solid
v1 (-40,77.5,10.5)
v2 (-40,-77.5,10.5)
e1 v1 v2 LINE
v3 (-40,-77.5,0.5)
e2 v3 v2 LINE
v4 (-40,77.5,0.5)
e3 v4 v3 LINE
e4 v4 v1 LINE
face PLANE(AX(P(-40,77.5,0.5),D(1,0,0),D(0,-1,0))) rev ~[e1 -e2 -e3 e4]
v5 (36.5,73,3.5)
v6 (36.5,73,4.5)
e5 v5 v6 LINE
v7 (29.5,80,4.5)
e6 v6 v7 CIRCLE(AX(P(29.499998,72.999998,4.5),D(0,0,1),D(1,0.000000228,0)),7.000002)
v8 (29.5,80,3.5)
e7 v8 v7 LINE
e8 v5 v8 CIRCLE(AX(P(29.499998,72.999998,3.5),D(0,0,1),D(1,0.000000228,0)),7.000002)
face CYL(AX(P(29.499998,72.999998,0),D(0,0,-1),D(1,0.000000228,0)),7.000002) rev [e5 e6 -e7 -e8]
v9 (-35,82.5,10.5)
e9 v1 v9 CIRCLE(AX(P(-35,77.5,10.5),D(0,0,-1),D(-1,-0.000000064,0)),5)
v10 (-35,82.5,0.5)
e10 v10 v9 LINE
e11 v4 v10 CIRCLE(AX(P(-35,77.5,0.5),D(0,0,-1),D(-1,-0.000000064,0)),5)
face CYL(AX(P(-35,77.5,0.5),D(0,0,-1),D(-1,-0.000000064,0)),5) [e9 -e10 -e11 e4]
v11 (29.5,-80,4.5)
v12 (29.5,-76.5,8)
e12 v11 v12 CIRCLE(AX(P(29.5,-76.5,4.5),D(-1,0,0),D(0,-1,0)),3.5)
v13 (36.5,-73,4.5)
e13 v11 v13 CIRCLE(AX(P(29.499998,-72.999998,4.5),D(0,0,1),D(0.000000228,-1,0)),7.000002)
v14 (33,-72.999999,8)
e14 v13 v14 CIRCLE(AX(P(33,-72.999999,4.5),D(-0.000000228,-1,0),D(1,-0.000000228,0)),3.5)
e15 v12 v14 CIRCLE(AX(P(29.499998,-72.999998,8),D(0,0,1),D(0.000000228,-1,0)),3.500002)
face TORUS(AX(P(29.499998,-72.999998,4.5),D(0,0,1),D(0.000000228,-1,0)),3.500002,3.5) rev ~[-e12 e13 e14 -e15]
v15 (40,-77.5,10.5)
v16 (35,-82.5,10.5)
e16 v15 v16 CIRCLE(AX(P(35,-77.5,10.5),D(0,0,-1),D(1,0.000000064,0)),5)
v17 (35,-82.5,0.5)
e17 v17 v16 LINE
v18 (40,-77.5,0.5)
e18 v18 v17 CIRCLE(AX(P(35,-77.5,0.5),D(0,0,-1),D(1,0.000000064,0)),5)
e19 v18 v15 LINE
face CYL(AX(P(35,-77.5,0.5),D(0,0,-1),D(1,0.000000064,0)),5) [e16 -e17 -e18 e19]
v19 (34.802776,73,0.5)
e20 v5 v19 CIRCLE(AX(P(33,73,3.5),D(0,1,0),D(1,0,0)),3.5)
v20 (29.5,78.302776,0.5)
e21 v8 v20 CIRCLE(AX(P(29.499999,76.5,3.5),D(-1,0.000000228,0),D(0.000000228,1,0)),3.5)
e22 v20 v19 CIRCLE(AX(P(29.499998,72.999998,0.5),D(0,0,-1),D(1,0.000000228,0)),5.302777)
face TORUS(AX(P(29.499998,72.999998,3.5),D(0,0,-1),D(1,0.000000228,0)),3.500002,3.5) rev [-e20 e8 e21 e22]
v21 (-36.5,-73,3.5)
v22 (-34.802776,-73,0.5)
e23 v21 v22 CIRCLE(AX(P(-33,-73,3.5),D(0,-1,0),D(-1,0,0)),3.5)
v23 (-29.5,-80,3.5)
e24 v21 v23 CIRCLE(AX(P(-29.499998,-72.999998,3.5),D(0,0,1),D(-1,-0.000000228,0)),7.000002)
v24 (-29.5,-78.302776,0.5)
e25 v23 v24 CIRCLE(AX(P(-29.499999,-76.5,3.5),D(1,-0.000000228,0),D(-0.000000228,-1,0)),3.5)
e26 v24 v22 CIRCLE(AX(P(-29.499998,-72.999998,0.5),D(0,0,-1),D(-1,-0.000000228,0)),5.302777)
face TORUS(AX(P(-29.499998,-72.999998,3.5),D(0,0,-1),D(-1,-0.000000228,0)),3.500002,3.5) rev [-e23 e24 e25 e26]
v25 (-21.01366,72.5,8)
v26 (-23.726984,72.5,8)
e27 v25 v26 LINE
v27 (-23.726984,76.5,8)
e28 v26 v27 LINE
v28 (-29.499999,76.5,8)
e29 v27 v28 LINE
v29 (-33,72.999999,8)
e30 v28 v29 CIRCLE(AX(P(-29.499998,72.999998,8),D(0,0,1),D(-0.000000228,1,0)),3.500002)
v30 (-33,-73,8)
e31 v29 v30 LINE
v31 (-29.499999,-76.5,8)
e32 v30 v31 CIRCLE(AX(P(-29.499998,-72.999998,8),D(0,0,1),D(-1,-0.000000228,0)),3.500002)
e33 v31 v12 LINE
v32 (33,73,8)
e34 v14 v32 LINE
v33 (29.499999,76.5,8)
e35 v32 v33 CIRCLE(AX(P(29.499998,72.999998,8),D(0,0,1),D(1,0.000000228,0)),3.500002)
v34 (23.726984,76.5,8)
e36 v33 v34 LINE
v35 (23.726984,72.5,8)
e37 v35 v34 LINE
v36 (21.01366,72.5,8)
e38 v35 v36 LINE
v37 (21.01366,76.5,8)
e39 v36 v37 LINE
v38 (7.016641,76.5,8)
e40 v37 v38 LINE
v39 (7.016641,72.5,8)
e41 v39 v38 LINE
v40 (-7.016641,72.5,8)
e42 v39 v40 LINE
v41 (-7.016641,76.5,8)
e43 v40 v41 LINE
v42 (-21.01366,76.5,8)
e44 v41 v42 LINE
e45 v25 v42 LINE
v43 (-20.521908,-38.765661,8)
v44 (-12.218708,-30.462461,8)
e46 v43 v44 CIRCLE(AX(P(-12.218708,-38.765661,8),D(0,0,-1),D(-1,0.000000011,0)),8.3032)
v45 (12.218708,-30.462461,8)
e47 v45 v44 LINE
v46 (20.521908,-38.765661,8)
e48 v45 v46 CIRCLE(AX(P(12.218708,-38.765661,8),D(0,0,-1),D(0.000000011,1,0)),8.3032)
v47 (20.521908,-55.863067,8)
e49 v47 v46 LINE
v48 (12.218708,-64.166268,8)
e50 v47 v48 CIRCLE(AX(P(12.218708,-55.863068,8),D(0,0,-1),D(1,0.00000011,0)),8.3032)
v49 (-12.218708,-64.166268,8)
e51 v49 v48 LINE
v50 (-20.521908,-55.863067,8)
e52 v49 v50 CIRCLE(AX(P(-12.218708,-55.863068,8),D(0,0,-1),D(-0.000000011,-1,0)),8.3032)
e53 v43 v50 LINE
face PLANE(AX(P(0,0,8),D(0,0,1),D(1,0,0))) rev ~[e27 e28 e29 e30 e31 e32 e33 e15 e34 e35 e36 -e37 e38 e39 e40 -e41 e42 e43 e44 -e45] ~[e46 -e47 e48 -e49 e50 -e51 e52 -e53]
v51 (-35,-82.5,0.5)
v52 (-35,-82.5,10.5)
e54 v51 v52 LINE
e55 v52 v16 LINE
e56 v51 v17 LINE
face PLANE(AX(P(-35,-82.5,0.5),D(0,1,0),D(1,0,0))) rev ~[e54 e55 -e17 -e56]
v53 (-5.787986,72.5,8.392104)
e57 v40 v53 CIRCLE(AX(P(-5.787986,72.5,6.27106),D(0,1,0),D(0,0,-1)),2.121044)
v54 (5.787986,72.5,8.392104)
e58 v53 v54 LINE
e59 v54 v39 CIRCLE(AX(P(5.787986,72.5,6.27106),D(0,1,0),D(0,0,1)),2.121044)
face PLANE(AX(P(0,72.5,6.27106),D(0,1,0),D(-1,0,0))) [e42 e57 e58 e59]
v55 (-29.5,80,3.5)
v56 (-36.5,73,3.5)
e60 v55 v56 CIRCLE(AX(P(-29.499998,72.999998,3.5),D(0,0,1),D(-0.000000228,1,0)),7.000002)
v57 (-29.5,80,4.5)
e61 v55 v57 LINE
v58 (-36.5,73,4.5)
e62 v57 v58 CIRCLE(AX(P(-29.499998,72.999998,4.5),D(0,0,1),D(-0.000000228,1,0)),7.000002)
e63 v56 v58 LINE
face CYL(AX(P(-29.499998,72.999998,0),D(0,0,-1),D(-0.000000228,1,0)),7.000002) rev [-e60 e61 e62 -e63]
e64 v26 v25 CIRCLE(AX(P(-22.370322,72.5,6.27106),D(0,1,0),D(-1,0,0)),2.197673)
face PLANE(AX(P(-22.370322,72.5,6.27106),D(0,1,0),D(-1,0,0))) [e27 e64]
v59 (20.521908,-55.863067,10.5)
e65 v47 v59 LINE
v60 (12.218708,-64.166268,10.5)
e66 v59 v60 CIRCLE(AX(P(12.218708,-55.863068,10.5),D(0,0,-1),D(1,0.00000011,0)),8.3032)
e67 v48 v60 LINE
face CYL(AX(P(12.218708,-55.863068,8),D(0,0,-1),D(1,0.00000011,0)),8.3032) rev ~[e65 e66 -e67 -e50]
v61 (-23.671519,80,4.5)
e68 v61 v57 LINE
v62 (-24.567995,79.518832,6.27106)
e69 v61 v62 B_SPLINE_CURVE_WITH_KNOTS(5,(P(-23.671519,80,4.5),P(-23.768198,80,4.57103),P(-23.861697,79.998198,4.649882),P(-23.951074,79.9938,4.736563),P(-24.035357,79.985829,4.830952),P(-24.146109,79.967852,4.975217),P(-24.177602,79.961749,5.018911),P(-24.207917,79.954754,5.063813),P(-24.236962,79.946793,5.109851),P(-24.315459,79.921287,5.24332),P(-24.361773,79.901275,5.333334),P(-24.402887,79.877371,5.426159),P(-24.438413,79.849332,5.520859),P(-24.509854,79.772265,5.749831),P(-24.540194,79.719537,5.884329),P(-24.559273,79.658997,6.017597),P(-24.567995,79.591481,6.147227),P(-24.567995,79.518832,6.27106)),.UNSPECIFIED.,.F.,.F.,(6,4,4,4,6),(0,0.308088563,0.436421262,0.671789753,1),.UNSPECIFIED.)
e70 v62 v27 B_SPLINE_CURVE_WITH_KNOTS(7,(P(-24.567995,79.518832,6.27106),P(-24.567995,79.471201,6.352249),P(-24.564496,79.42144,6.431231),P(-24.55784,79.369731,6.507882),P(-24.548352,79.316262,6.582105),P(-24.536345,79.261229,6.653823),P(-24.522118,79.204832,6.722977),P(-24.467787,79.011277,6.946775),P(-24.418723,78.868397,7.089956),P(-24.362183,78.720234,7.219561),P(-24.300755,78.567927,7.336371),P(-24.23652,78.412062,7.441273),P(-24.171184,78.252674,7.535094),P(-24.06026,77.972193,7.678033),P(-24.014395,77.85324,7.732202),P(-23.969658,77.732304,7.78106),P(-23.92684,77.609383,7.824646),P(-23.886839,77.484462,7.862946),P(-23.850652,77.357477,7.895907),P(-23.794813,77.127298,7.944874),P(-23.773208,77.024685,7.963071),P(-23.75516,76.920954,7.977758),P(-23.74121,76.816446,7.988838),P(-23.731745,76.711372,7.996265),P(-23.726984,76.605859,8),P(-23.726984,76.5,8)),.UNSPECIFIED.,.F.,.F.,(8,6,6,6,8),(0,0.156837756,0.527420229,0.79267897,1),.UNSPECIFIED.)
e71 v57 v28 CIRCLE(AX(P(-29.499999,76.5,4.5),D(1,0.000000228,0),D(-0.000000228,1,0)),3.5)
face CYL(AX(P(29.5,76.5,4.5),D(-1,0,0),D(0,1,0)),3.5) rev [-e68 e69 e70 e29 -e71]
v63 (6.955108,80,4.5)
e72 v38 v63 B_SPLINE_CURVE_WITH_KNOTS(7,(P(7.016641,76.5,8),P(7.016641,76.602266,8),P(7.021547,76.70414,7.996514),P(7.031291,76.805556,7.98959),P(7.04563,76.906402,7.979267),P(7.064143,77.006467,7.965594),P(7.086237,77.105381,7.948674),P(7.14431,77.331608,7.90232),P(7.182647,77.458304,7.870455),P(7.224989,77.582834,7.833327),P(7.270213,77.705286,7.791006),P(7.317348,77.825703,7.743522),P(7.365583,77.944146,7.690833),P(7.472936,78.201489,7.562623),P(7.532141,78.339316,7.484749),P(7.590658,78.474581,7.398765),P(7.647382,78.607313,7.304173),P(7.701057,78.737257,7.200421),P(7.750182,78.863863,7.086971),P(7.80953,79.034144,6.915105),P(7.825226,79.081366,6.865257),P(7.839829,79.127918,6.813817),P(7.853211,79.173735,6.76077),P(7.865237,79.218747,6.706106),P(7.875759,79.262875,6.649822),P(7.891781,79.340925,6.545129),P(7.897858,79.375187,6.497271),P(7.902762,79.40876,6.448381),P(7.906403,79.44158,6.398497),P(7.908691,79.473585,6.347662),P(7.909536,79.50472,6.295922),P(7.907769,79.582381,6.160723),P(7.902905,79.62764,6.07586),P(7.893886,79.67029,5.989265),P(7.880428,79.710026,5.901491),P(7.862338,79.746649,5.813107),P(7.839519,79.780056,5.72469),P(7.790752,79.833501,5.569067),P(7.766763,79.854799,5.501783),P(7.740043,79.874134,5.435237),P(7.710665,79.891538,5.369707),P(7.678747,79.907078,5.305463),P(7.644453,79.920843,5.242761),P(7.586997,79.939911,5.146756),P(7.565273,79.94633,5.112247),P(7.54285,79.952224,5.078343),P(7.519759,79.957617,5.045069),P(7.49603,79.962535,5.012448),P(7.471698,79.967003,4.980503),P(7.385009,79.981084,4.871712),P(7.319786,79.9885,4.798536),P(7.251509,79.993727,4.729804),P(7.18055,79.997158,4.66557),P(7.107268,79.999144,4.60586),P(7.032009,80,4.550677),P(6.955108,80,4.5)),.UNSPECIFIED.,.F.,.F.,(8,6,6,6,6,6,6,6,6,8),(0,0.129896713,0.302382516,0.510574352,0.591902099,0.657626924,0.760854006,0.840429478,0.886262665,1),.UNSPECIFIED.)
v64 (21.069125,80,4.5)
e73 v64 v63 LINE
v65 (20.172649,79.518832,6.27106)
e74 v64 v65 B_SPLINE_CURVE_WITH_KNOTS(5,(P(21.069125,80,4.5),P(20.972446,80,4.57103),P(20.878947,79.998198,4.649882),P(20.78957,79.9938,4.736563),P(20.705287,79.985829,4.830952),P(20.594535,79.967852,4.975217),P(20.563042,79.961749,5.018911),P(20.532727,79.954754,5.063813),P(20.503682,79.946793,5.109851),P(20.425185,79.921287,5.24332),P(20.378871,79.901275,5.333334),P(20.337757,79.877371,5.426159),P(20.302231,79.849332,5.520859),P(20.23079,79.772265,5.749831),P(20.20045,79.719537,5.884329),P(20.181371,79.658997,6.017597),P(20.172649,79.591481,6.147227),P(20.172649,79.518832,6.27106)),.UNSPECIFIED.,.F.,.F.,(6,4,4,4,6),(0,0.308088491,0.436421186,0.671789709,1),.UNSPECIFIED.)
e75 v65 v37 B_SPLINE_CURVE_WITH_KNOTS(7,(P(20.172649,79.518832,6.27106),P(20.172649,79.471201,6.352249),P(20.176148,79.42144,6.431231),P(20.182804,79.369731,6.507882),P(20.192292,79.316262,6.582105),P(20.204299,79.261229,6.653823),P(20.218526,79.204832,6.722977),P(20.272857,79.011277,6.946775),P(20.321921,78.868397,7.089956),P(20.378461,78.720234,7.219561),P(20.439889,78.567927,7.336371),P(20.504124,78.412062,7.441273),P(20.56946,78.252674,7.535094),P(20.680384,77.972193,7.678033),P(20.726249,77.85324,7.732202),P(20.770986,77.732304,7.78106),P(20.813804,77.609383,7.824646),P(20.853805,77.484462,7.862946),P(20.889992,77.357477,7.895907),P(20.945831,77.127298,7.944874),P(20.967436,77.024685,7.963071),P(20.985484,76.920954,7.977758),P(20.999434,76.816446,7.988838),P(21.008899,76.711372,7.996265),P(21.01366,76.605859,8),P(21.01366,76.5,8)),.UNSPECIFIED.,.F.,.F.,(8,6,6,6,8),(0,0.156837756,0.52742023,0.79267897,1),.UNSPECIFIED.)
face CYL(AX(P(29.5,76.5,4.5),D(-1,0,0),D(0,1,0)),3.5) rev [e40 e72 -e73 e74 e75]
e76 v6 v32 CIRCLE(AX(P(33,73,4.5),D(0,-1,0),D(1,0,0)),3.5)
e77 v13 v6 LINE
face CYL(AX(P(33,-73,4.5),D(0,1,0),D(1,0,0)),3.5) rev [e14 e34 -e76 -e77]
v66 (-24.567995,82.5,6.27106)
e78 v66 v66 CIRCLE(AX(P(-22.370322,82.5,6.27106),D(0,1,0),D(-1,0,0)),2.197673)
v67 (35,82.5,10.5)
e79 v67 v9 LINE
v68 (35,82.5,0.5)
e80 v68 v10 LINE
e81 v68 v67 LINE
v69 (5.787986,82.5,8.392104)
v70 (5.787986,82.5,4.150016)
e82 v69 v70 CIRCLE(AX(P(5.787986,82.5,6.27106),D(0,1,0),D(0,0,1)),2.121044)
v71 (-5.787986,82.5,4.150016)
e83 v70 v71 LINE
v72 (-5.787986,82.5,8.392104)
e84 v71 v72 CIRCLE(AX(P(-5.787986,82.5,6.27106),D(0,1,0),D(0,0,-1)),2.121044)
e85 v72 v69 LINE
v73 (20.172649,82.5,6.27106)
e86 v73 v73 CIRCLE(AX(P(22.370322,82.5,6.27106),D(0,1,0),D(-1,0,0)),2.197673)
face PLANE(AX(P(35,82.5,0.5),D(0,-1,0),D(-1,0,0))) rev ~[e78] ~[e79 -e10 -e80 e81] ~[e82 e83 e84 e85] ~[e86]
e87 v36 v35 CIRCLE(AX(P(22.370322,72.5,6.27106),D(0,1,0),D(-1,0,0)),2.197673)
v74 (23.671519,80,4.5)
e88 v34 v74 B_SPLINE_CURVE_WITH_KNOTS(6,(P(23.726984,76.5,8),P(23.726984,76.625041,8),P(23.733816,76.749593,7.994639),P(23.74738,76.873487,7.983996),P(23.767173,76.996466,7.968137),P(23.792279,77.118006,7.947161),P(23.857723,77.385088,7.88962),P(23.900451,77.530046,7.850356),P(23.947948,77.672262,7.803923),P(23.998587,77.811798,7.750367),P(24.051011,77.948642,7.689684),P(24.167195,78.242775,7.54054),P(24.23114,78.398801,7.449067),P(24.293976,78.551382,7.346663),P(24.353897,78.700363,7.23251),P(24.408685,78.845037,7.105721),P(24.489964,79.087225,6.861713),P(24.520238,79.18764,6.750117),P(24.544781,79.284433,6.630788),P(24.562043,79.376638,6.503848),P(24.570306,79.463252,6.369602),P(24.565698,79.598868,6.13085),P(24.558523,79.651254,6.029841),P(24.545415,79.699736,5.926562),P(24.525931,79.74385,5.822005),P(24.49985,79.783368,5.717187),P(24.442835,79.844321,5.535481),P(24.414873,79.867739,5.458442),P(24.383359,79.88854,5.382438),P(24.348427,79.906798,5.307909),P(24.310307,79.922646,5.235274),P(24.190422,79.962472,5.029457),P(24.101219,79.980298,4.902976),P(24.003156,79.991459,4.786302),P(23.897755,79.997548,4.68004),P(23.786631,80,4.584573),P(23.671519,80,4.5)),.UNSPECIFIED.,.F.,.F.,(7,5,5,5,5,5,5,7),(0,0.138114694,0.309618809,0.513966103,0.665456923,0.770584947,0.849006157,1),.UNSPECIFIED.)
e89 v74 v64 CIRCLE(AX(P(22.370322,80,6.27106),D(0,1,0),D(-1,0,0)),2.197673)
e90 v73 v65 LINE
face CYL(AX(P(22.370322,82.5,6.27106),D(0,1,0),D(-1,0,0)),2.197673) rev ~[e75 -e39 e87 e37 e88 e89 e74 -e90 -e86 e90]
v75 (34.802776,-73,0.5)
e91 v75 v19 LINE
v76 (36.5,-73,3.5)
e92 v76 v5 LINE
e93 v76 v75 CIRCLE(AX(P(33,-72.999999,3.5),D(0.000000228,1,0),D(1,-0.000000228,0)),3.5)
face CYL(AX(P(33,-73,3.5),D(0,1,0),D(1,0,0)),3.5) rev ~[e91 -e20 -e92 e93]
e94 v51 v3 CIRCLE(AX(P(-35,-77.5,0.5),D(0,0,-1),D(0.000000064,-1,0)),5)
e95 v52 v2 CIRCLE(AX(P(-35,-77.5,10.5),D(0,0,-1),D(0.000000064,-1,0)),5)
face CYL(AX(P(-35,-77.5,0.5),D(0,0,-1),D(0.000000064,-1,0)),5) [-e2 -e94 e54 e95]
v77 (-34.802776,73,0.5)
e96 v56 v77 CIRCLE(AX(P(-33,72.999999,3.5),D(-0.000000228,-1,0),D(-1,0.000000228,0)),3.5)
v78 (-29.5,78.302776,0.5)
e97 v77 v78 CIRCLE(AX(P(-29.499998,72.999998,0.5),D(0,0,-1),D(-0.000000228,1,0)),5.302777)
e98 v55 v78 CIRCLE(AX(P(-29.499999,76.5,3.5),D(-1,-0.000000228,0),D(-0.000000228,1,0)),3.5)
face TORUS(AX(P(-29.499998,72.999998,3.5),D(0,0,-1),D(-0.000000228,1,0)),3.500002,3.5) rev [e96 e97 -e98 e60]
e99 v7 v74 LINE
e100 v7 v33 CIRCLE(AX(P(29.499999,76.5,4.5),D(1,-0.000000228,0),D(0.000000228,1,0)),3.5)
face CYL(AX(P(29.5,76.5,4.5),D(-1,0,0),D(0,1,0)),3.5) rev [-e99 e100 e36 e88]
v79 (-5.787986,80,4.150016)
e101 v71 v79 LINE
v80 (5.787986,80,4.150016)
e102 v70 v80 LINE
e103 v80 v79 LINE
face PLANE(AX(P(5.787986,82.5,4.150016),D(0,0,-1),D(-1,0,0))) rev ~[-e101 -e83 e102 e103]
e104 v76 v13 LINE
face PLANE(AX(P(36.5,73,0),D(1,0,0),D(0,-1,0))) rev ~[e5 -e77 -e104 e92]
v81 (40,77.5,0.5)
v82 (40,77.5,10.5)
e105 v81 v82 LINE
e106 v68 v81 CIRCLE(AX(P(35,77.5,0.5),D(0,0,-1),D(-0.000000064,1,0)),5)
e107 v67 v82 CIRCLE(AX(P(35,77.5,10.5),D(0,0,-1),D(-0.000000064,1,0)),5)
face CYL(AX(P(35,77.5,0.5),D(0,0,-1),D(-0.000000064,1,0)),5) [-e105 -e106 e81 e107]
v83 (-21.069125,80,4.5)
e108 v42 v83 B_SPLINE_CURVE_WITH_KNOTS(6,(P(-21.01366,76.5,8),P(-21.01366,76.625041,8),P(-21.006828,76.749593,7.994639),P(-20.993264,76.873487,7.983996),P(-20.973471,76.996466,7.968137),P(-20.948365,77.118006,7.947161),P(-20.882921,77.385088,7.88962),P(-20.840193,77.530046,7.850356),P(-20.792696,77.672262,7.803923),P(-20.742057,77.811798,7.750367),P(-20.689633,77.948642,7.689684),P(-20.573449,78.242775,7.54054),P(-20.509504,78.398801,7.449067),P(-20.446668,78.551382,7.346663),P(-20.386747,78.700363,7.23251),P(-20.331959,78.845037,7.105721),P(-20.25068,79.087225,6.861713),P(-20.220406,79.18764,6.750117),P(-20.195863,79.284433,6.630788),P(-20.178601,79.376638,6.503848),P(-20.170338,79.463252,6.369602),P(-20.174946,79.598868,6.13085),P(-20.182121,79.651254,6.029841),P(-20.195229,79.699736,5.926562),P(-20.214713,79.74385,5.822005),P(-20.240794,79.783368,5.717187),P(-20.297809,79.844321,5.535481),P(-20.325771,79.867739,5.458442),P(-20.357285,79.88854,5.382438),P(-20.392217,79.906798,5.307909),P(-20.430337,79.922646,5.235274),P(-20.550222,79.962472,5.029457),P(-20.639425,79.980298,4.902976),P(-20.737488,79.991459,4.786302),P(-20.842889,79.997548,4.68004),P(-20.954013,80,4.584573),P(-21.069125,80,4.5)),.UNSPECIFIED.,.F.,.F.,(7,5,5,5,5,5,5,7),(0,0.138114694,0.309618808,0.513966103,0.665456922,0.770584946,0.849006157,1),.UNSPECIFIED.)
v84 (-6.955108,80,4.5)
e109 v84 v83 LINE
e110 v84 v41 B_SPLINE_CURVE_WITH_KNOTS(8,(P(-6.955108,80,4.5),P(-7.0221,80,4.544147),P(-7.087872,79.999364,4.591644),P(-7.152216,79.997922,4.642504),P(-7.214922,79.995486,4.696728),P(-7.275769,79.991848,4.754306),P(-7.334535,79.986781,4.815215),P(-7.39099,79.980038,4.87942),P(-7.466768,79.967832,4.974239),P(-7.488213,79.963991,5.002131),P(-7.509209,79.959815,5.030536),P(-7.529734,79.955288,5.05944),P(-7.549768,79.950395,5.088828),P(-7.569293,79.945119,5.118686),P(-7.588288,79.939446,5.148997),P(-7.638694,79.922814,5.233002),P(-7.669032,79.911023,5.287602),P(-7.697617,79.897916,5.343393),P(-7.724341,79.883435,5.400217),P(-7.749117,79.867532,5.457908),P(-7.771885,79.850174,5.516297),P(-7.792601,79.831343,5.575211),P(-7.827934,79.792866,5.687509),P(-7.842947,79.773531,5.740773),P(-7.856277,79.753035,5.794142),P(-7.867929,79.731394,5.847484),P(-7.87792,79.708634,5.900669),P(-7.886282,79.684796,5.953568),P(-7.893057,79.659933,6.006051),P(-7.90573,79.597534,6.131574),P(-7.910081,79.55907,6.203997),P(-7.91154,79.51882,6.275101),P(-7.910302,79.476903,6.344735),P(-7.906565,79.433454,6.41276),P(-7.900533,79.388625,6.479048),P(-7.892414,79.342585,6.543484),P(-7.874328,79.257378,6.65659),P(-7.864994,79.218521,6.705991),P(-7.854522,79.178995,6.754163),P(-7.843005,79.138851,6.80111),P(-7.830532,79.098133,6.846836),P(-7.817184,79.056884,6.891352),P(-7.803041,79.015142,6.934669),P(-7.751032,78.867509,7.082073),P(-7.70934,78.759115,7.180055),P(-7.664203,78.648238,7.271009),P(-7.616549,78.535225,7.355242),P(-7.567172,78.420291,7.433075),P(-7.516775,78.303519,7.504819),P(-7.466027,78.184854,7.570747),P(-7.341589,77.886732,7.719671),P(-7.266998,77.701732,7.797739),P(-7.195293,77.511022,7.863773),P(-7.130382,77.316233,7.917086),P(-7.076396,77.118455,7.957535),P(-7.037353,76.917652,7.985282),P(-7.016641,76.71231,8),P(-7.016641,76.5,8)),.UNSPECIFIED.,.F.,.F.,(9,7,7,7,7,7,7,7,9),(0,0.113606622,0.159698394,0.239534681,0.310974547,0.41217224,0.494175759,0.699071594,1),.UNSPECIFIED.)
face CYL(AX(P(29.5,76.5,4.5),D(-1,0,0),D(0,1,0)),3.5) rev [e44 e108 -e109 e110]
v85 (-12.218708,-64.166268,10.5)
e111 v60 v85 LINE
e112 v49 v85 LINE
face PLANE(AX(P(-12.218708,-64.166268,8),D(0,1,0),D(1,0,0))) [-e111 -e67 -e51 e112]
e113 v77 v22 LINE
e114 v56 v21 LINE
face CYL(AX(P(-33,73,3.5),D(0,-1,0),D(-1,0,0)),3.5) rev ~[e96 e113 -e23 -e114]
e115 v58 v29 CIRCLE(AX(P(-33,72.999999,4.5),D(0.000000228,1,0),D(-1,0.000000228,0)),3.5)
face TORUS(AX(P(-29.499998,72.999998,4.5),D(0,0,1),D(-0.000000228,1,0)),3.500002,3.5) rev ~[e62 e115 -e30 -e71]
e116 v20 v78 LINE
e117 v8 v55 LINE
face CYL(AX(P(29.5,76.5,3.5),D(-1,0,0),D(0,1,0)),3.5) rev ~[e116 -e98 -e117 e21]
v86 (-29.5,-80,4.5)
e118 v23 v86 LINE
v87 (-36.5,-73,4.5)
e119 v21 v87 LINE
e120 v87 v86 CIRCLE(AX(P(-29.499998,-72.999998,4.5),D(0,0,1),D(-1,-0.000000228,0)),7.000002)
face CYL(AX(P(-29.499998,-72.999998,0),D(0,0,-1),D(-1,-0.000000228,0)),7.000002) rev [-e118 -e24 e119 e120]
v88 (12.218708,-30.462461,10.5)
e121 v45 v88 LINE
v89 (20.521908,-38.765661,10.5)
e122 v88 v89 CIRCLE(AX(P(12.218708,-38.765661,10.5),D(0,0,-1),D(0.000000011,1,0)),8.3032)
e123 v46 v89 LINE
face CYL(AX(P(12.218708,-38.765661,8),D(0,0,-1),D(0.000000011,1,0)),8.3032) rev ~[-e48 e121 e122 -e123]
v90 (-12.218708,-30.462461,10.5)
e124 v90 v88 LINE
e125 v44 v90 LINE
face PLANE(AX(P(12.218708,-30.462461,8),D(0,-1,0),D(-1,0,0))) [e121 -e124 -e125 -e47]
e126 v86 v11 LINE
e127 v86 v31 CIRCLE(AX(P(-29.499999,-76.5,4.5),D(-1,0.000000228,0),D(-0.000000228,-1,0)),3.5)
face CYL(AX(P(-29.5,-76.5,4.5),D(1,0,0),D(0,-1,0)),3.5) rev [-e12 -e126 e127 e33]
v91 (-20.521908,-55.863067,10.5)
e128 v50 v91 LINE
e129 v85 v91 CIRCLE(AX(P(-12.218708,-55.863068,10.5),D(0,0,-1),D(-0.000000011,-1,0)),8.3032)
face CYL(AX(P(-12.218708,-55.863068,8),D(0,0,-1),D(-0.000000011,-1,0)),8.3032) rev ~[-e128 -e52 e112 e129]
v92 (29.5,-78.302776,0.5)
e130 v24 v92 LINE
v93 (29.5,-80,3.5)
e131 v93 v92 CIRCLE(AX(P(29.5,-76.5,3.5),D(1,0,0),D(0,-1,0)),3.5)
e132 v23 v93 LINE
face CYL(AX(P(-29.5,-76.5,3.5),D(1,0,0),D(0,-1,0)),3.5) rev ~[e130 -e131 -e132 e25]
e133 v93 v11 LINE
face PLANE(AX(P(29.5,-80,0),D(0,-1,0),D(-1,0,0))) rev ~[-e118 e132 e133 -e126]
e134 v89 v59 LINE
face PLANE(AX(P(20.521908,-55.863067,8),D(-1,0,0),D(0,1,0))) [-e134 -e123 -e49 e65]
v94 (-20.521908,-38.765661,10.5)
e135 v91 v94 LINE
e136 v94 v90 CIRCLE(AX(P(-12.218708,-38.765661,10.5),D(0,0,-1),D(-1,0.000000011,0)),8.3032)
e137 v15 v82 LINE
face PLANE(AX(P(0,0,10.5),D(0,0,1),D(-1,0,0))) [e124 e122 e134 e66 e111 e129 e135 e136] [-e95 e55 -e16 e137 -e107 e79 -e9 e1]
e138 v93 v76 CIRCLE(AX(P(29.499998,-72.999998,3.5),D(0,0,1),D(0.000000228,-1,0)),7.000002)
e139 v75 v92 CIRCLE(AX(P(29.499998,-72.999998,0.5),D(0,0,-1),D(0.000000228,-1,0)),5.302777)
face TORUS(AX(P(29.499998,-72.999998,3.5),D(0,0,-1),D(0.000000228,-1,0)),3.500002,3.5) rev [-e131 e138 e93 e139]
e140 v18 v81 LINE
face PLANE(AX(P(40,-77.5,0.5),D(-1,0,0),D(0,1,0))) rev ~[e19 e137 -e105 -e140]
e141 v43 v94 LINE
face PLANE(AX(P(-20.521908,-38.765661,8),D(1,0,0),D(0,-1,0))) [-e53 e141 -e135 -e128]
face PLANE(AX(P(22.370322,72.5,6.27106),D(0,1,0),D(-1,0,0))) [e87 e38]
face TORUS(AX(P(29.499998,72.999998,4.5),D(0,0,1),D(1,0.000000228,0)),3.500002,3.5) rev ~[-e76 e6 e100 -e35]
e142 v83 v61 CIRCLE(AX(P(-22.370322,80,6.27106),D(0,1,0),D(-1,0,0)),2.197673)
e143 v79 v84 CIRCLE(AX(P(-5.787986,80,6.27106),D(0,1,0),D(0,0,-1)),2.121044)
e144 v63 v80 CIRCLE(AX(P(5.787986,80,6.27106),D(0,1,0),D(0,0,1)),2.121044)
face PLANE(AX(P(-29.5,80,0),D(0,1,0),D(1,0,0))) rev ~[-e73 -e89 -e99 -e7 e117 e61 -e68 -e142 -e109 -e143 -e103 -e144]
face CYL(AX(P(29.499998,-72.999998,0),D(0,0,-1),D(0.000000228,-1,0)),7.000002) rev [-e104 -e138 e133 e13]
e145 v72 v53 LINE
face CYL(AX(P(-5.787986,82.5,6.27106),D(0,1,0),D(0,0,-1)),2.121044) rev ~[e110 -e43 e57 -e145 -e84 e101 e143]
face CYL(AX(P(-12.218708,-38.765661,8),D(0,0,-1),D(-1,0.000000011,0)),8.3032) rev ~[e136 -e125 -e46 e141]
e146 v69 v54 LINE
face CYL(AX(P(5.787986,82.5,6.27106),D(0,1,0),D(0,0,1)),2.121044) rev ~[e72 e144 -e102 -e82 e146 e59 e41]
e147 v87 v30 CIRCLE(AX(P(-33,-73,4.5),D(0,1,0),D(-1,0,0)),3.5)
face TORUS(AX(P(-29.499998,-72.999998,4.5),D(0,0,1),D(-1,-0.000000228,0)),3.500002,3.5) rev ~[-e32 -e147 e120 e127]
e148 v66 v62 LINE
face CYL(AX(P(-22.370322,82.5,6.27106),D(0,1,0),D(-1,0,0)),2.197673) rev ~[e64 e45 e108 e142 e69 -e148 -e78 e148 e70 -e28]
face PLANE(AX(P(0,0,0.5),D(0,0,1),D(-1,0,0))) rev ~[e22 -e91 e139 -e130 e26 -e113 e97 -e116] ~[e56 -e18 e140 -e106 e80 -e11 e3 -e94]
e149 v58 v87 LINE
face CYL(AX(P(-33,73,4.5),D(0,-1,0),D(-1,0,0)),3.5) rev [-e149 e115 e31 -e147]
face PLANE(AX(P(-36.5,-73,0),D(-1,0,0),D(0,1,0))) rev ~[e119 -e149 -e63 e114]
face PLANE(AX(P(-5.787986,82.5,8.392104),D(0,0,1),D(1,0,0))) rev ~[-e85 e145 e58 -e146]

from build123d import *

# Parameters (mm, degrees)
EXTRUDE004_DEPTH = 10
SKETCH003_R      = 2.197673
EXTRUDE003_DEPTH = 10
EXTRUDE_DEPTH    = 8
FILLET_R         = 3.5
EXTRUDE001_DEPTH = 2.5
EXTRUDE002_DEPTH = 10


with BuildPart() as extrude004:
    # Sketch004 (on Face35 of Cut) → Extrude004 (new body)
    with BuildSketch(Plane(origin=(0, 0, 8), x_dir=(1, 0, 0), z_dir=(0, 0, -1))):
        with BuildLine():
            ThreePointArc((-12.218708, 64.166268), (-18.089957, 61.734317), (-20.521908, 55.863067))
            Line((-20.521908, 38.765661), (-20.521908, 55.863067))
            ThreePointArc((-20.521908, 38.765661), (-18.089957, 32.894412), (-12.218708, 30.462461))
            Line((12.218708, 30.462461), (-12.218708, 30.462461))
            ThreePointArc((12.218708, 30.462461), (18.089957, 32.894412), (20.521908, 38.765661))
            Line((20.521908, 55.863067), (20.521908, 38.765661))
            ThreePointArc((20.521908, 55.863067), (18.089957, 61.734317), (12.218708, 64.166268))
            Line((-12.218708, 64.166268), (12.218708, 64.166268))
        make_face()
    extrude(amount=-EXTRUDE004_DEPTH)


with BuildPart() as compound_features_to_remove:
    # Sketch003 (on Face6 of Cut) → Extrude003 (new body)
    with BuildSketch(Plane(origin=(0, 82.5, 0), x_dir=(-1, 0, 0), z_dir=(0, 1, 0))):
        with Locations((-22.370322, 6.27106)):
            Circle(SKETCH003_R)
        with Locations((22.370322, 6.27106)):
            Circle(SKETCH003_R)
        with BuildLine():
            ThreePointArc((5.787986, 4.150016), (7.90903, 6.27106), (5.787986, 8.392104))
            Line((5.787986, 8.392104), (-5.787986, 8.392104))
            ThreePointArc((-5.787986, 8.392104), (-7.90903, 6.27106), (-5.787986, 4.150016))
            Line((-5.787986, 4.150016), (5.787986, 4.150016))
        make_face()
    extrude(amount=-EXTRUDE003_DEPTH)

    # Compound: union Extrude004
    add(extrude004.part)


with BuildPart() as fillet_body:
    # Sketch → Extrude (new body)
    with BuildSketch(Plane.XY):
        with BuildLine():
            ThreePointArc((-29.5, 80), (-34.449747, 77.949747), (-36.5, 73))
            Line((-36.5, -73), (-36.5, 73))
            ThreePointArc((-36.5, -73), (-34.449747, -77.949747), (-29.5, -80))
            Line((29.5, -80), (-29.5, -80))
            ThreePointArc((29.5, -80), (34.449747, -77.949747), (36.5, -73))
            Line((36.5, 73), (36.5, -73))
            ThreePointArc((36.5, 73), (34.449747, 77.949747), (29.5, 80))
            Line((-29.5, 80), (29.5, 80))
        make_face()
    extrude(amount=EXTRUDE_DEPTH)

    # Fillet
    fillet_edges = [fillet_body.edges().sort_by_distance(p)[0] for p in [
        (-34.449747, 77.949747, 0),
        (-34.449747, 77.949747, 8),
        (-36.5, 0, 0),
        (-36.5, 0, 8),
        (-34.449747, -77.949747, 0),
        (-34.449747, -77.949747, 8),
        (0, -80, 0),
        (0, -80, 8),
        (34.449747, -77.949747, 0),
        (34.449747, -77.949747, 8),
        (36.5, 0, 0),
        (36.5, 0, 8),
        (34.449747, 77.949747, 0),
        (34.449747, 77.949747, 8),
        (0, 80, 0),
        (0, 80, 8),
    ]]
    fillet(fillet_edges, radius=FILLET_R)


with BuildPart() as phoneblank:
    # Sketch001 (on Face9 of Fillet) → Extrude001 (new body, symmetric)
    with BuildSketch(Plane(origin=(0, 0, 0), x_dir=(1, 0, 0), z_dir=(0, 0, -1))):
        with BuildLine():
            ThreePointArc((-29.5, 78.25), (-33.212311, 76.712311), (-34.75, 73))
            Line((-34.75, -73), (-34.75, 73))
            ThreePointArc((-34.75, -73), (-33.212311, -76.712311), (-29.5, -78.25))
            Line((29.5, -78.25), (-29.5, -78.25))
            ThreePointArc((29.5, -78.25), (33.212311, -76.712311), (34.75, -73))
            Line((34.75, 73), (34.75, -73))
            ThreePointArc((34.75, 73), (33.212311, 76.712311), (29.5, 78.25))
            Line((-29.5, 78.25), (29.5, 78.25))
        make_face()
    extrude(amount=EXTRUDE001_DEPTH, both=True)

    # Fusion: union Fillet body
    add(fillet_body.part)


with BuildPart() as cut001:
    # Sketch002 (on Face4 of Fusion) → Extrude002 (new body)
    with BuildSketch(Plane(origin=(0, 0, 0.5), x_dir=(1, 0, 0), z_dir=(0, 0, -1))):
        with BuildLine():
            Line((-35, 82.5), (35, 82.5))
            ThreePointArc((40, 77.5), (38.535534, 81.035534), (35, 82.5))
            Line((40, 77.5), (40, -77.5))
            ThreePointArc((35, -82.5), (38.535534, -81.035534), (40, -77.5))
            Line((35, -82.5), (-35, -82.5))
            ThreePointArc((-40, -77.5), (-38.535534, -81.035534), (-35, -82.5))
            Line((-40, -77.5), (-40, 77.5))
            ThreePointArc((-35, 82.5), (-38.535534, 81.035534), (-40, 77.5))
        make_face()
    extrude(amount=-EXTRUDE002_DEPTH)

    # Cut: cut PhoneBlank
    add(phoneblank.part, mode=Mode.SUBTRACT)

    # Cut001: cut  Compound - Features to remove
    add(compound_features_to_remove.part, mode=Mode.SUBTRACT)


solid = cut001.part
